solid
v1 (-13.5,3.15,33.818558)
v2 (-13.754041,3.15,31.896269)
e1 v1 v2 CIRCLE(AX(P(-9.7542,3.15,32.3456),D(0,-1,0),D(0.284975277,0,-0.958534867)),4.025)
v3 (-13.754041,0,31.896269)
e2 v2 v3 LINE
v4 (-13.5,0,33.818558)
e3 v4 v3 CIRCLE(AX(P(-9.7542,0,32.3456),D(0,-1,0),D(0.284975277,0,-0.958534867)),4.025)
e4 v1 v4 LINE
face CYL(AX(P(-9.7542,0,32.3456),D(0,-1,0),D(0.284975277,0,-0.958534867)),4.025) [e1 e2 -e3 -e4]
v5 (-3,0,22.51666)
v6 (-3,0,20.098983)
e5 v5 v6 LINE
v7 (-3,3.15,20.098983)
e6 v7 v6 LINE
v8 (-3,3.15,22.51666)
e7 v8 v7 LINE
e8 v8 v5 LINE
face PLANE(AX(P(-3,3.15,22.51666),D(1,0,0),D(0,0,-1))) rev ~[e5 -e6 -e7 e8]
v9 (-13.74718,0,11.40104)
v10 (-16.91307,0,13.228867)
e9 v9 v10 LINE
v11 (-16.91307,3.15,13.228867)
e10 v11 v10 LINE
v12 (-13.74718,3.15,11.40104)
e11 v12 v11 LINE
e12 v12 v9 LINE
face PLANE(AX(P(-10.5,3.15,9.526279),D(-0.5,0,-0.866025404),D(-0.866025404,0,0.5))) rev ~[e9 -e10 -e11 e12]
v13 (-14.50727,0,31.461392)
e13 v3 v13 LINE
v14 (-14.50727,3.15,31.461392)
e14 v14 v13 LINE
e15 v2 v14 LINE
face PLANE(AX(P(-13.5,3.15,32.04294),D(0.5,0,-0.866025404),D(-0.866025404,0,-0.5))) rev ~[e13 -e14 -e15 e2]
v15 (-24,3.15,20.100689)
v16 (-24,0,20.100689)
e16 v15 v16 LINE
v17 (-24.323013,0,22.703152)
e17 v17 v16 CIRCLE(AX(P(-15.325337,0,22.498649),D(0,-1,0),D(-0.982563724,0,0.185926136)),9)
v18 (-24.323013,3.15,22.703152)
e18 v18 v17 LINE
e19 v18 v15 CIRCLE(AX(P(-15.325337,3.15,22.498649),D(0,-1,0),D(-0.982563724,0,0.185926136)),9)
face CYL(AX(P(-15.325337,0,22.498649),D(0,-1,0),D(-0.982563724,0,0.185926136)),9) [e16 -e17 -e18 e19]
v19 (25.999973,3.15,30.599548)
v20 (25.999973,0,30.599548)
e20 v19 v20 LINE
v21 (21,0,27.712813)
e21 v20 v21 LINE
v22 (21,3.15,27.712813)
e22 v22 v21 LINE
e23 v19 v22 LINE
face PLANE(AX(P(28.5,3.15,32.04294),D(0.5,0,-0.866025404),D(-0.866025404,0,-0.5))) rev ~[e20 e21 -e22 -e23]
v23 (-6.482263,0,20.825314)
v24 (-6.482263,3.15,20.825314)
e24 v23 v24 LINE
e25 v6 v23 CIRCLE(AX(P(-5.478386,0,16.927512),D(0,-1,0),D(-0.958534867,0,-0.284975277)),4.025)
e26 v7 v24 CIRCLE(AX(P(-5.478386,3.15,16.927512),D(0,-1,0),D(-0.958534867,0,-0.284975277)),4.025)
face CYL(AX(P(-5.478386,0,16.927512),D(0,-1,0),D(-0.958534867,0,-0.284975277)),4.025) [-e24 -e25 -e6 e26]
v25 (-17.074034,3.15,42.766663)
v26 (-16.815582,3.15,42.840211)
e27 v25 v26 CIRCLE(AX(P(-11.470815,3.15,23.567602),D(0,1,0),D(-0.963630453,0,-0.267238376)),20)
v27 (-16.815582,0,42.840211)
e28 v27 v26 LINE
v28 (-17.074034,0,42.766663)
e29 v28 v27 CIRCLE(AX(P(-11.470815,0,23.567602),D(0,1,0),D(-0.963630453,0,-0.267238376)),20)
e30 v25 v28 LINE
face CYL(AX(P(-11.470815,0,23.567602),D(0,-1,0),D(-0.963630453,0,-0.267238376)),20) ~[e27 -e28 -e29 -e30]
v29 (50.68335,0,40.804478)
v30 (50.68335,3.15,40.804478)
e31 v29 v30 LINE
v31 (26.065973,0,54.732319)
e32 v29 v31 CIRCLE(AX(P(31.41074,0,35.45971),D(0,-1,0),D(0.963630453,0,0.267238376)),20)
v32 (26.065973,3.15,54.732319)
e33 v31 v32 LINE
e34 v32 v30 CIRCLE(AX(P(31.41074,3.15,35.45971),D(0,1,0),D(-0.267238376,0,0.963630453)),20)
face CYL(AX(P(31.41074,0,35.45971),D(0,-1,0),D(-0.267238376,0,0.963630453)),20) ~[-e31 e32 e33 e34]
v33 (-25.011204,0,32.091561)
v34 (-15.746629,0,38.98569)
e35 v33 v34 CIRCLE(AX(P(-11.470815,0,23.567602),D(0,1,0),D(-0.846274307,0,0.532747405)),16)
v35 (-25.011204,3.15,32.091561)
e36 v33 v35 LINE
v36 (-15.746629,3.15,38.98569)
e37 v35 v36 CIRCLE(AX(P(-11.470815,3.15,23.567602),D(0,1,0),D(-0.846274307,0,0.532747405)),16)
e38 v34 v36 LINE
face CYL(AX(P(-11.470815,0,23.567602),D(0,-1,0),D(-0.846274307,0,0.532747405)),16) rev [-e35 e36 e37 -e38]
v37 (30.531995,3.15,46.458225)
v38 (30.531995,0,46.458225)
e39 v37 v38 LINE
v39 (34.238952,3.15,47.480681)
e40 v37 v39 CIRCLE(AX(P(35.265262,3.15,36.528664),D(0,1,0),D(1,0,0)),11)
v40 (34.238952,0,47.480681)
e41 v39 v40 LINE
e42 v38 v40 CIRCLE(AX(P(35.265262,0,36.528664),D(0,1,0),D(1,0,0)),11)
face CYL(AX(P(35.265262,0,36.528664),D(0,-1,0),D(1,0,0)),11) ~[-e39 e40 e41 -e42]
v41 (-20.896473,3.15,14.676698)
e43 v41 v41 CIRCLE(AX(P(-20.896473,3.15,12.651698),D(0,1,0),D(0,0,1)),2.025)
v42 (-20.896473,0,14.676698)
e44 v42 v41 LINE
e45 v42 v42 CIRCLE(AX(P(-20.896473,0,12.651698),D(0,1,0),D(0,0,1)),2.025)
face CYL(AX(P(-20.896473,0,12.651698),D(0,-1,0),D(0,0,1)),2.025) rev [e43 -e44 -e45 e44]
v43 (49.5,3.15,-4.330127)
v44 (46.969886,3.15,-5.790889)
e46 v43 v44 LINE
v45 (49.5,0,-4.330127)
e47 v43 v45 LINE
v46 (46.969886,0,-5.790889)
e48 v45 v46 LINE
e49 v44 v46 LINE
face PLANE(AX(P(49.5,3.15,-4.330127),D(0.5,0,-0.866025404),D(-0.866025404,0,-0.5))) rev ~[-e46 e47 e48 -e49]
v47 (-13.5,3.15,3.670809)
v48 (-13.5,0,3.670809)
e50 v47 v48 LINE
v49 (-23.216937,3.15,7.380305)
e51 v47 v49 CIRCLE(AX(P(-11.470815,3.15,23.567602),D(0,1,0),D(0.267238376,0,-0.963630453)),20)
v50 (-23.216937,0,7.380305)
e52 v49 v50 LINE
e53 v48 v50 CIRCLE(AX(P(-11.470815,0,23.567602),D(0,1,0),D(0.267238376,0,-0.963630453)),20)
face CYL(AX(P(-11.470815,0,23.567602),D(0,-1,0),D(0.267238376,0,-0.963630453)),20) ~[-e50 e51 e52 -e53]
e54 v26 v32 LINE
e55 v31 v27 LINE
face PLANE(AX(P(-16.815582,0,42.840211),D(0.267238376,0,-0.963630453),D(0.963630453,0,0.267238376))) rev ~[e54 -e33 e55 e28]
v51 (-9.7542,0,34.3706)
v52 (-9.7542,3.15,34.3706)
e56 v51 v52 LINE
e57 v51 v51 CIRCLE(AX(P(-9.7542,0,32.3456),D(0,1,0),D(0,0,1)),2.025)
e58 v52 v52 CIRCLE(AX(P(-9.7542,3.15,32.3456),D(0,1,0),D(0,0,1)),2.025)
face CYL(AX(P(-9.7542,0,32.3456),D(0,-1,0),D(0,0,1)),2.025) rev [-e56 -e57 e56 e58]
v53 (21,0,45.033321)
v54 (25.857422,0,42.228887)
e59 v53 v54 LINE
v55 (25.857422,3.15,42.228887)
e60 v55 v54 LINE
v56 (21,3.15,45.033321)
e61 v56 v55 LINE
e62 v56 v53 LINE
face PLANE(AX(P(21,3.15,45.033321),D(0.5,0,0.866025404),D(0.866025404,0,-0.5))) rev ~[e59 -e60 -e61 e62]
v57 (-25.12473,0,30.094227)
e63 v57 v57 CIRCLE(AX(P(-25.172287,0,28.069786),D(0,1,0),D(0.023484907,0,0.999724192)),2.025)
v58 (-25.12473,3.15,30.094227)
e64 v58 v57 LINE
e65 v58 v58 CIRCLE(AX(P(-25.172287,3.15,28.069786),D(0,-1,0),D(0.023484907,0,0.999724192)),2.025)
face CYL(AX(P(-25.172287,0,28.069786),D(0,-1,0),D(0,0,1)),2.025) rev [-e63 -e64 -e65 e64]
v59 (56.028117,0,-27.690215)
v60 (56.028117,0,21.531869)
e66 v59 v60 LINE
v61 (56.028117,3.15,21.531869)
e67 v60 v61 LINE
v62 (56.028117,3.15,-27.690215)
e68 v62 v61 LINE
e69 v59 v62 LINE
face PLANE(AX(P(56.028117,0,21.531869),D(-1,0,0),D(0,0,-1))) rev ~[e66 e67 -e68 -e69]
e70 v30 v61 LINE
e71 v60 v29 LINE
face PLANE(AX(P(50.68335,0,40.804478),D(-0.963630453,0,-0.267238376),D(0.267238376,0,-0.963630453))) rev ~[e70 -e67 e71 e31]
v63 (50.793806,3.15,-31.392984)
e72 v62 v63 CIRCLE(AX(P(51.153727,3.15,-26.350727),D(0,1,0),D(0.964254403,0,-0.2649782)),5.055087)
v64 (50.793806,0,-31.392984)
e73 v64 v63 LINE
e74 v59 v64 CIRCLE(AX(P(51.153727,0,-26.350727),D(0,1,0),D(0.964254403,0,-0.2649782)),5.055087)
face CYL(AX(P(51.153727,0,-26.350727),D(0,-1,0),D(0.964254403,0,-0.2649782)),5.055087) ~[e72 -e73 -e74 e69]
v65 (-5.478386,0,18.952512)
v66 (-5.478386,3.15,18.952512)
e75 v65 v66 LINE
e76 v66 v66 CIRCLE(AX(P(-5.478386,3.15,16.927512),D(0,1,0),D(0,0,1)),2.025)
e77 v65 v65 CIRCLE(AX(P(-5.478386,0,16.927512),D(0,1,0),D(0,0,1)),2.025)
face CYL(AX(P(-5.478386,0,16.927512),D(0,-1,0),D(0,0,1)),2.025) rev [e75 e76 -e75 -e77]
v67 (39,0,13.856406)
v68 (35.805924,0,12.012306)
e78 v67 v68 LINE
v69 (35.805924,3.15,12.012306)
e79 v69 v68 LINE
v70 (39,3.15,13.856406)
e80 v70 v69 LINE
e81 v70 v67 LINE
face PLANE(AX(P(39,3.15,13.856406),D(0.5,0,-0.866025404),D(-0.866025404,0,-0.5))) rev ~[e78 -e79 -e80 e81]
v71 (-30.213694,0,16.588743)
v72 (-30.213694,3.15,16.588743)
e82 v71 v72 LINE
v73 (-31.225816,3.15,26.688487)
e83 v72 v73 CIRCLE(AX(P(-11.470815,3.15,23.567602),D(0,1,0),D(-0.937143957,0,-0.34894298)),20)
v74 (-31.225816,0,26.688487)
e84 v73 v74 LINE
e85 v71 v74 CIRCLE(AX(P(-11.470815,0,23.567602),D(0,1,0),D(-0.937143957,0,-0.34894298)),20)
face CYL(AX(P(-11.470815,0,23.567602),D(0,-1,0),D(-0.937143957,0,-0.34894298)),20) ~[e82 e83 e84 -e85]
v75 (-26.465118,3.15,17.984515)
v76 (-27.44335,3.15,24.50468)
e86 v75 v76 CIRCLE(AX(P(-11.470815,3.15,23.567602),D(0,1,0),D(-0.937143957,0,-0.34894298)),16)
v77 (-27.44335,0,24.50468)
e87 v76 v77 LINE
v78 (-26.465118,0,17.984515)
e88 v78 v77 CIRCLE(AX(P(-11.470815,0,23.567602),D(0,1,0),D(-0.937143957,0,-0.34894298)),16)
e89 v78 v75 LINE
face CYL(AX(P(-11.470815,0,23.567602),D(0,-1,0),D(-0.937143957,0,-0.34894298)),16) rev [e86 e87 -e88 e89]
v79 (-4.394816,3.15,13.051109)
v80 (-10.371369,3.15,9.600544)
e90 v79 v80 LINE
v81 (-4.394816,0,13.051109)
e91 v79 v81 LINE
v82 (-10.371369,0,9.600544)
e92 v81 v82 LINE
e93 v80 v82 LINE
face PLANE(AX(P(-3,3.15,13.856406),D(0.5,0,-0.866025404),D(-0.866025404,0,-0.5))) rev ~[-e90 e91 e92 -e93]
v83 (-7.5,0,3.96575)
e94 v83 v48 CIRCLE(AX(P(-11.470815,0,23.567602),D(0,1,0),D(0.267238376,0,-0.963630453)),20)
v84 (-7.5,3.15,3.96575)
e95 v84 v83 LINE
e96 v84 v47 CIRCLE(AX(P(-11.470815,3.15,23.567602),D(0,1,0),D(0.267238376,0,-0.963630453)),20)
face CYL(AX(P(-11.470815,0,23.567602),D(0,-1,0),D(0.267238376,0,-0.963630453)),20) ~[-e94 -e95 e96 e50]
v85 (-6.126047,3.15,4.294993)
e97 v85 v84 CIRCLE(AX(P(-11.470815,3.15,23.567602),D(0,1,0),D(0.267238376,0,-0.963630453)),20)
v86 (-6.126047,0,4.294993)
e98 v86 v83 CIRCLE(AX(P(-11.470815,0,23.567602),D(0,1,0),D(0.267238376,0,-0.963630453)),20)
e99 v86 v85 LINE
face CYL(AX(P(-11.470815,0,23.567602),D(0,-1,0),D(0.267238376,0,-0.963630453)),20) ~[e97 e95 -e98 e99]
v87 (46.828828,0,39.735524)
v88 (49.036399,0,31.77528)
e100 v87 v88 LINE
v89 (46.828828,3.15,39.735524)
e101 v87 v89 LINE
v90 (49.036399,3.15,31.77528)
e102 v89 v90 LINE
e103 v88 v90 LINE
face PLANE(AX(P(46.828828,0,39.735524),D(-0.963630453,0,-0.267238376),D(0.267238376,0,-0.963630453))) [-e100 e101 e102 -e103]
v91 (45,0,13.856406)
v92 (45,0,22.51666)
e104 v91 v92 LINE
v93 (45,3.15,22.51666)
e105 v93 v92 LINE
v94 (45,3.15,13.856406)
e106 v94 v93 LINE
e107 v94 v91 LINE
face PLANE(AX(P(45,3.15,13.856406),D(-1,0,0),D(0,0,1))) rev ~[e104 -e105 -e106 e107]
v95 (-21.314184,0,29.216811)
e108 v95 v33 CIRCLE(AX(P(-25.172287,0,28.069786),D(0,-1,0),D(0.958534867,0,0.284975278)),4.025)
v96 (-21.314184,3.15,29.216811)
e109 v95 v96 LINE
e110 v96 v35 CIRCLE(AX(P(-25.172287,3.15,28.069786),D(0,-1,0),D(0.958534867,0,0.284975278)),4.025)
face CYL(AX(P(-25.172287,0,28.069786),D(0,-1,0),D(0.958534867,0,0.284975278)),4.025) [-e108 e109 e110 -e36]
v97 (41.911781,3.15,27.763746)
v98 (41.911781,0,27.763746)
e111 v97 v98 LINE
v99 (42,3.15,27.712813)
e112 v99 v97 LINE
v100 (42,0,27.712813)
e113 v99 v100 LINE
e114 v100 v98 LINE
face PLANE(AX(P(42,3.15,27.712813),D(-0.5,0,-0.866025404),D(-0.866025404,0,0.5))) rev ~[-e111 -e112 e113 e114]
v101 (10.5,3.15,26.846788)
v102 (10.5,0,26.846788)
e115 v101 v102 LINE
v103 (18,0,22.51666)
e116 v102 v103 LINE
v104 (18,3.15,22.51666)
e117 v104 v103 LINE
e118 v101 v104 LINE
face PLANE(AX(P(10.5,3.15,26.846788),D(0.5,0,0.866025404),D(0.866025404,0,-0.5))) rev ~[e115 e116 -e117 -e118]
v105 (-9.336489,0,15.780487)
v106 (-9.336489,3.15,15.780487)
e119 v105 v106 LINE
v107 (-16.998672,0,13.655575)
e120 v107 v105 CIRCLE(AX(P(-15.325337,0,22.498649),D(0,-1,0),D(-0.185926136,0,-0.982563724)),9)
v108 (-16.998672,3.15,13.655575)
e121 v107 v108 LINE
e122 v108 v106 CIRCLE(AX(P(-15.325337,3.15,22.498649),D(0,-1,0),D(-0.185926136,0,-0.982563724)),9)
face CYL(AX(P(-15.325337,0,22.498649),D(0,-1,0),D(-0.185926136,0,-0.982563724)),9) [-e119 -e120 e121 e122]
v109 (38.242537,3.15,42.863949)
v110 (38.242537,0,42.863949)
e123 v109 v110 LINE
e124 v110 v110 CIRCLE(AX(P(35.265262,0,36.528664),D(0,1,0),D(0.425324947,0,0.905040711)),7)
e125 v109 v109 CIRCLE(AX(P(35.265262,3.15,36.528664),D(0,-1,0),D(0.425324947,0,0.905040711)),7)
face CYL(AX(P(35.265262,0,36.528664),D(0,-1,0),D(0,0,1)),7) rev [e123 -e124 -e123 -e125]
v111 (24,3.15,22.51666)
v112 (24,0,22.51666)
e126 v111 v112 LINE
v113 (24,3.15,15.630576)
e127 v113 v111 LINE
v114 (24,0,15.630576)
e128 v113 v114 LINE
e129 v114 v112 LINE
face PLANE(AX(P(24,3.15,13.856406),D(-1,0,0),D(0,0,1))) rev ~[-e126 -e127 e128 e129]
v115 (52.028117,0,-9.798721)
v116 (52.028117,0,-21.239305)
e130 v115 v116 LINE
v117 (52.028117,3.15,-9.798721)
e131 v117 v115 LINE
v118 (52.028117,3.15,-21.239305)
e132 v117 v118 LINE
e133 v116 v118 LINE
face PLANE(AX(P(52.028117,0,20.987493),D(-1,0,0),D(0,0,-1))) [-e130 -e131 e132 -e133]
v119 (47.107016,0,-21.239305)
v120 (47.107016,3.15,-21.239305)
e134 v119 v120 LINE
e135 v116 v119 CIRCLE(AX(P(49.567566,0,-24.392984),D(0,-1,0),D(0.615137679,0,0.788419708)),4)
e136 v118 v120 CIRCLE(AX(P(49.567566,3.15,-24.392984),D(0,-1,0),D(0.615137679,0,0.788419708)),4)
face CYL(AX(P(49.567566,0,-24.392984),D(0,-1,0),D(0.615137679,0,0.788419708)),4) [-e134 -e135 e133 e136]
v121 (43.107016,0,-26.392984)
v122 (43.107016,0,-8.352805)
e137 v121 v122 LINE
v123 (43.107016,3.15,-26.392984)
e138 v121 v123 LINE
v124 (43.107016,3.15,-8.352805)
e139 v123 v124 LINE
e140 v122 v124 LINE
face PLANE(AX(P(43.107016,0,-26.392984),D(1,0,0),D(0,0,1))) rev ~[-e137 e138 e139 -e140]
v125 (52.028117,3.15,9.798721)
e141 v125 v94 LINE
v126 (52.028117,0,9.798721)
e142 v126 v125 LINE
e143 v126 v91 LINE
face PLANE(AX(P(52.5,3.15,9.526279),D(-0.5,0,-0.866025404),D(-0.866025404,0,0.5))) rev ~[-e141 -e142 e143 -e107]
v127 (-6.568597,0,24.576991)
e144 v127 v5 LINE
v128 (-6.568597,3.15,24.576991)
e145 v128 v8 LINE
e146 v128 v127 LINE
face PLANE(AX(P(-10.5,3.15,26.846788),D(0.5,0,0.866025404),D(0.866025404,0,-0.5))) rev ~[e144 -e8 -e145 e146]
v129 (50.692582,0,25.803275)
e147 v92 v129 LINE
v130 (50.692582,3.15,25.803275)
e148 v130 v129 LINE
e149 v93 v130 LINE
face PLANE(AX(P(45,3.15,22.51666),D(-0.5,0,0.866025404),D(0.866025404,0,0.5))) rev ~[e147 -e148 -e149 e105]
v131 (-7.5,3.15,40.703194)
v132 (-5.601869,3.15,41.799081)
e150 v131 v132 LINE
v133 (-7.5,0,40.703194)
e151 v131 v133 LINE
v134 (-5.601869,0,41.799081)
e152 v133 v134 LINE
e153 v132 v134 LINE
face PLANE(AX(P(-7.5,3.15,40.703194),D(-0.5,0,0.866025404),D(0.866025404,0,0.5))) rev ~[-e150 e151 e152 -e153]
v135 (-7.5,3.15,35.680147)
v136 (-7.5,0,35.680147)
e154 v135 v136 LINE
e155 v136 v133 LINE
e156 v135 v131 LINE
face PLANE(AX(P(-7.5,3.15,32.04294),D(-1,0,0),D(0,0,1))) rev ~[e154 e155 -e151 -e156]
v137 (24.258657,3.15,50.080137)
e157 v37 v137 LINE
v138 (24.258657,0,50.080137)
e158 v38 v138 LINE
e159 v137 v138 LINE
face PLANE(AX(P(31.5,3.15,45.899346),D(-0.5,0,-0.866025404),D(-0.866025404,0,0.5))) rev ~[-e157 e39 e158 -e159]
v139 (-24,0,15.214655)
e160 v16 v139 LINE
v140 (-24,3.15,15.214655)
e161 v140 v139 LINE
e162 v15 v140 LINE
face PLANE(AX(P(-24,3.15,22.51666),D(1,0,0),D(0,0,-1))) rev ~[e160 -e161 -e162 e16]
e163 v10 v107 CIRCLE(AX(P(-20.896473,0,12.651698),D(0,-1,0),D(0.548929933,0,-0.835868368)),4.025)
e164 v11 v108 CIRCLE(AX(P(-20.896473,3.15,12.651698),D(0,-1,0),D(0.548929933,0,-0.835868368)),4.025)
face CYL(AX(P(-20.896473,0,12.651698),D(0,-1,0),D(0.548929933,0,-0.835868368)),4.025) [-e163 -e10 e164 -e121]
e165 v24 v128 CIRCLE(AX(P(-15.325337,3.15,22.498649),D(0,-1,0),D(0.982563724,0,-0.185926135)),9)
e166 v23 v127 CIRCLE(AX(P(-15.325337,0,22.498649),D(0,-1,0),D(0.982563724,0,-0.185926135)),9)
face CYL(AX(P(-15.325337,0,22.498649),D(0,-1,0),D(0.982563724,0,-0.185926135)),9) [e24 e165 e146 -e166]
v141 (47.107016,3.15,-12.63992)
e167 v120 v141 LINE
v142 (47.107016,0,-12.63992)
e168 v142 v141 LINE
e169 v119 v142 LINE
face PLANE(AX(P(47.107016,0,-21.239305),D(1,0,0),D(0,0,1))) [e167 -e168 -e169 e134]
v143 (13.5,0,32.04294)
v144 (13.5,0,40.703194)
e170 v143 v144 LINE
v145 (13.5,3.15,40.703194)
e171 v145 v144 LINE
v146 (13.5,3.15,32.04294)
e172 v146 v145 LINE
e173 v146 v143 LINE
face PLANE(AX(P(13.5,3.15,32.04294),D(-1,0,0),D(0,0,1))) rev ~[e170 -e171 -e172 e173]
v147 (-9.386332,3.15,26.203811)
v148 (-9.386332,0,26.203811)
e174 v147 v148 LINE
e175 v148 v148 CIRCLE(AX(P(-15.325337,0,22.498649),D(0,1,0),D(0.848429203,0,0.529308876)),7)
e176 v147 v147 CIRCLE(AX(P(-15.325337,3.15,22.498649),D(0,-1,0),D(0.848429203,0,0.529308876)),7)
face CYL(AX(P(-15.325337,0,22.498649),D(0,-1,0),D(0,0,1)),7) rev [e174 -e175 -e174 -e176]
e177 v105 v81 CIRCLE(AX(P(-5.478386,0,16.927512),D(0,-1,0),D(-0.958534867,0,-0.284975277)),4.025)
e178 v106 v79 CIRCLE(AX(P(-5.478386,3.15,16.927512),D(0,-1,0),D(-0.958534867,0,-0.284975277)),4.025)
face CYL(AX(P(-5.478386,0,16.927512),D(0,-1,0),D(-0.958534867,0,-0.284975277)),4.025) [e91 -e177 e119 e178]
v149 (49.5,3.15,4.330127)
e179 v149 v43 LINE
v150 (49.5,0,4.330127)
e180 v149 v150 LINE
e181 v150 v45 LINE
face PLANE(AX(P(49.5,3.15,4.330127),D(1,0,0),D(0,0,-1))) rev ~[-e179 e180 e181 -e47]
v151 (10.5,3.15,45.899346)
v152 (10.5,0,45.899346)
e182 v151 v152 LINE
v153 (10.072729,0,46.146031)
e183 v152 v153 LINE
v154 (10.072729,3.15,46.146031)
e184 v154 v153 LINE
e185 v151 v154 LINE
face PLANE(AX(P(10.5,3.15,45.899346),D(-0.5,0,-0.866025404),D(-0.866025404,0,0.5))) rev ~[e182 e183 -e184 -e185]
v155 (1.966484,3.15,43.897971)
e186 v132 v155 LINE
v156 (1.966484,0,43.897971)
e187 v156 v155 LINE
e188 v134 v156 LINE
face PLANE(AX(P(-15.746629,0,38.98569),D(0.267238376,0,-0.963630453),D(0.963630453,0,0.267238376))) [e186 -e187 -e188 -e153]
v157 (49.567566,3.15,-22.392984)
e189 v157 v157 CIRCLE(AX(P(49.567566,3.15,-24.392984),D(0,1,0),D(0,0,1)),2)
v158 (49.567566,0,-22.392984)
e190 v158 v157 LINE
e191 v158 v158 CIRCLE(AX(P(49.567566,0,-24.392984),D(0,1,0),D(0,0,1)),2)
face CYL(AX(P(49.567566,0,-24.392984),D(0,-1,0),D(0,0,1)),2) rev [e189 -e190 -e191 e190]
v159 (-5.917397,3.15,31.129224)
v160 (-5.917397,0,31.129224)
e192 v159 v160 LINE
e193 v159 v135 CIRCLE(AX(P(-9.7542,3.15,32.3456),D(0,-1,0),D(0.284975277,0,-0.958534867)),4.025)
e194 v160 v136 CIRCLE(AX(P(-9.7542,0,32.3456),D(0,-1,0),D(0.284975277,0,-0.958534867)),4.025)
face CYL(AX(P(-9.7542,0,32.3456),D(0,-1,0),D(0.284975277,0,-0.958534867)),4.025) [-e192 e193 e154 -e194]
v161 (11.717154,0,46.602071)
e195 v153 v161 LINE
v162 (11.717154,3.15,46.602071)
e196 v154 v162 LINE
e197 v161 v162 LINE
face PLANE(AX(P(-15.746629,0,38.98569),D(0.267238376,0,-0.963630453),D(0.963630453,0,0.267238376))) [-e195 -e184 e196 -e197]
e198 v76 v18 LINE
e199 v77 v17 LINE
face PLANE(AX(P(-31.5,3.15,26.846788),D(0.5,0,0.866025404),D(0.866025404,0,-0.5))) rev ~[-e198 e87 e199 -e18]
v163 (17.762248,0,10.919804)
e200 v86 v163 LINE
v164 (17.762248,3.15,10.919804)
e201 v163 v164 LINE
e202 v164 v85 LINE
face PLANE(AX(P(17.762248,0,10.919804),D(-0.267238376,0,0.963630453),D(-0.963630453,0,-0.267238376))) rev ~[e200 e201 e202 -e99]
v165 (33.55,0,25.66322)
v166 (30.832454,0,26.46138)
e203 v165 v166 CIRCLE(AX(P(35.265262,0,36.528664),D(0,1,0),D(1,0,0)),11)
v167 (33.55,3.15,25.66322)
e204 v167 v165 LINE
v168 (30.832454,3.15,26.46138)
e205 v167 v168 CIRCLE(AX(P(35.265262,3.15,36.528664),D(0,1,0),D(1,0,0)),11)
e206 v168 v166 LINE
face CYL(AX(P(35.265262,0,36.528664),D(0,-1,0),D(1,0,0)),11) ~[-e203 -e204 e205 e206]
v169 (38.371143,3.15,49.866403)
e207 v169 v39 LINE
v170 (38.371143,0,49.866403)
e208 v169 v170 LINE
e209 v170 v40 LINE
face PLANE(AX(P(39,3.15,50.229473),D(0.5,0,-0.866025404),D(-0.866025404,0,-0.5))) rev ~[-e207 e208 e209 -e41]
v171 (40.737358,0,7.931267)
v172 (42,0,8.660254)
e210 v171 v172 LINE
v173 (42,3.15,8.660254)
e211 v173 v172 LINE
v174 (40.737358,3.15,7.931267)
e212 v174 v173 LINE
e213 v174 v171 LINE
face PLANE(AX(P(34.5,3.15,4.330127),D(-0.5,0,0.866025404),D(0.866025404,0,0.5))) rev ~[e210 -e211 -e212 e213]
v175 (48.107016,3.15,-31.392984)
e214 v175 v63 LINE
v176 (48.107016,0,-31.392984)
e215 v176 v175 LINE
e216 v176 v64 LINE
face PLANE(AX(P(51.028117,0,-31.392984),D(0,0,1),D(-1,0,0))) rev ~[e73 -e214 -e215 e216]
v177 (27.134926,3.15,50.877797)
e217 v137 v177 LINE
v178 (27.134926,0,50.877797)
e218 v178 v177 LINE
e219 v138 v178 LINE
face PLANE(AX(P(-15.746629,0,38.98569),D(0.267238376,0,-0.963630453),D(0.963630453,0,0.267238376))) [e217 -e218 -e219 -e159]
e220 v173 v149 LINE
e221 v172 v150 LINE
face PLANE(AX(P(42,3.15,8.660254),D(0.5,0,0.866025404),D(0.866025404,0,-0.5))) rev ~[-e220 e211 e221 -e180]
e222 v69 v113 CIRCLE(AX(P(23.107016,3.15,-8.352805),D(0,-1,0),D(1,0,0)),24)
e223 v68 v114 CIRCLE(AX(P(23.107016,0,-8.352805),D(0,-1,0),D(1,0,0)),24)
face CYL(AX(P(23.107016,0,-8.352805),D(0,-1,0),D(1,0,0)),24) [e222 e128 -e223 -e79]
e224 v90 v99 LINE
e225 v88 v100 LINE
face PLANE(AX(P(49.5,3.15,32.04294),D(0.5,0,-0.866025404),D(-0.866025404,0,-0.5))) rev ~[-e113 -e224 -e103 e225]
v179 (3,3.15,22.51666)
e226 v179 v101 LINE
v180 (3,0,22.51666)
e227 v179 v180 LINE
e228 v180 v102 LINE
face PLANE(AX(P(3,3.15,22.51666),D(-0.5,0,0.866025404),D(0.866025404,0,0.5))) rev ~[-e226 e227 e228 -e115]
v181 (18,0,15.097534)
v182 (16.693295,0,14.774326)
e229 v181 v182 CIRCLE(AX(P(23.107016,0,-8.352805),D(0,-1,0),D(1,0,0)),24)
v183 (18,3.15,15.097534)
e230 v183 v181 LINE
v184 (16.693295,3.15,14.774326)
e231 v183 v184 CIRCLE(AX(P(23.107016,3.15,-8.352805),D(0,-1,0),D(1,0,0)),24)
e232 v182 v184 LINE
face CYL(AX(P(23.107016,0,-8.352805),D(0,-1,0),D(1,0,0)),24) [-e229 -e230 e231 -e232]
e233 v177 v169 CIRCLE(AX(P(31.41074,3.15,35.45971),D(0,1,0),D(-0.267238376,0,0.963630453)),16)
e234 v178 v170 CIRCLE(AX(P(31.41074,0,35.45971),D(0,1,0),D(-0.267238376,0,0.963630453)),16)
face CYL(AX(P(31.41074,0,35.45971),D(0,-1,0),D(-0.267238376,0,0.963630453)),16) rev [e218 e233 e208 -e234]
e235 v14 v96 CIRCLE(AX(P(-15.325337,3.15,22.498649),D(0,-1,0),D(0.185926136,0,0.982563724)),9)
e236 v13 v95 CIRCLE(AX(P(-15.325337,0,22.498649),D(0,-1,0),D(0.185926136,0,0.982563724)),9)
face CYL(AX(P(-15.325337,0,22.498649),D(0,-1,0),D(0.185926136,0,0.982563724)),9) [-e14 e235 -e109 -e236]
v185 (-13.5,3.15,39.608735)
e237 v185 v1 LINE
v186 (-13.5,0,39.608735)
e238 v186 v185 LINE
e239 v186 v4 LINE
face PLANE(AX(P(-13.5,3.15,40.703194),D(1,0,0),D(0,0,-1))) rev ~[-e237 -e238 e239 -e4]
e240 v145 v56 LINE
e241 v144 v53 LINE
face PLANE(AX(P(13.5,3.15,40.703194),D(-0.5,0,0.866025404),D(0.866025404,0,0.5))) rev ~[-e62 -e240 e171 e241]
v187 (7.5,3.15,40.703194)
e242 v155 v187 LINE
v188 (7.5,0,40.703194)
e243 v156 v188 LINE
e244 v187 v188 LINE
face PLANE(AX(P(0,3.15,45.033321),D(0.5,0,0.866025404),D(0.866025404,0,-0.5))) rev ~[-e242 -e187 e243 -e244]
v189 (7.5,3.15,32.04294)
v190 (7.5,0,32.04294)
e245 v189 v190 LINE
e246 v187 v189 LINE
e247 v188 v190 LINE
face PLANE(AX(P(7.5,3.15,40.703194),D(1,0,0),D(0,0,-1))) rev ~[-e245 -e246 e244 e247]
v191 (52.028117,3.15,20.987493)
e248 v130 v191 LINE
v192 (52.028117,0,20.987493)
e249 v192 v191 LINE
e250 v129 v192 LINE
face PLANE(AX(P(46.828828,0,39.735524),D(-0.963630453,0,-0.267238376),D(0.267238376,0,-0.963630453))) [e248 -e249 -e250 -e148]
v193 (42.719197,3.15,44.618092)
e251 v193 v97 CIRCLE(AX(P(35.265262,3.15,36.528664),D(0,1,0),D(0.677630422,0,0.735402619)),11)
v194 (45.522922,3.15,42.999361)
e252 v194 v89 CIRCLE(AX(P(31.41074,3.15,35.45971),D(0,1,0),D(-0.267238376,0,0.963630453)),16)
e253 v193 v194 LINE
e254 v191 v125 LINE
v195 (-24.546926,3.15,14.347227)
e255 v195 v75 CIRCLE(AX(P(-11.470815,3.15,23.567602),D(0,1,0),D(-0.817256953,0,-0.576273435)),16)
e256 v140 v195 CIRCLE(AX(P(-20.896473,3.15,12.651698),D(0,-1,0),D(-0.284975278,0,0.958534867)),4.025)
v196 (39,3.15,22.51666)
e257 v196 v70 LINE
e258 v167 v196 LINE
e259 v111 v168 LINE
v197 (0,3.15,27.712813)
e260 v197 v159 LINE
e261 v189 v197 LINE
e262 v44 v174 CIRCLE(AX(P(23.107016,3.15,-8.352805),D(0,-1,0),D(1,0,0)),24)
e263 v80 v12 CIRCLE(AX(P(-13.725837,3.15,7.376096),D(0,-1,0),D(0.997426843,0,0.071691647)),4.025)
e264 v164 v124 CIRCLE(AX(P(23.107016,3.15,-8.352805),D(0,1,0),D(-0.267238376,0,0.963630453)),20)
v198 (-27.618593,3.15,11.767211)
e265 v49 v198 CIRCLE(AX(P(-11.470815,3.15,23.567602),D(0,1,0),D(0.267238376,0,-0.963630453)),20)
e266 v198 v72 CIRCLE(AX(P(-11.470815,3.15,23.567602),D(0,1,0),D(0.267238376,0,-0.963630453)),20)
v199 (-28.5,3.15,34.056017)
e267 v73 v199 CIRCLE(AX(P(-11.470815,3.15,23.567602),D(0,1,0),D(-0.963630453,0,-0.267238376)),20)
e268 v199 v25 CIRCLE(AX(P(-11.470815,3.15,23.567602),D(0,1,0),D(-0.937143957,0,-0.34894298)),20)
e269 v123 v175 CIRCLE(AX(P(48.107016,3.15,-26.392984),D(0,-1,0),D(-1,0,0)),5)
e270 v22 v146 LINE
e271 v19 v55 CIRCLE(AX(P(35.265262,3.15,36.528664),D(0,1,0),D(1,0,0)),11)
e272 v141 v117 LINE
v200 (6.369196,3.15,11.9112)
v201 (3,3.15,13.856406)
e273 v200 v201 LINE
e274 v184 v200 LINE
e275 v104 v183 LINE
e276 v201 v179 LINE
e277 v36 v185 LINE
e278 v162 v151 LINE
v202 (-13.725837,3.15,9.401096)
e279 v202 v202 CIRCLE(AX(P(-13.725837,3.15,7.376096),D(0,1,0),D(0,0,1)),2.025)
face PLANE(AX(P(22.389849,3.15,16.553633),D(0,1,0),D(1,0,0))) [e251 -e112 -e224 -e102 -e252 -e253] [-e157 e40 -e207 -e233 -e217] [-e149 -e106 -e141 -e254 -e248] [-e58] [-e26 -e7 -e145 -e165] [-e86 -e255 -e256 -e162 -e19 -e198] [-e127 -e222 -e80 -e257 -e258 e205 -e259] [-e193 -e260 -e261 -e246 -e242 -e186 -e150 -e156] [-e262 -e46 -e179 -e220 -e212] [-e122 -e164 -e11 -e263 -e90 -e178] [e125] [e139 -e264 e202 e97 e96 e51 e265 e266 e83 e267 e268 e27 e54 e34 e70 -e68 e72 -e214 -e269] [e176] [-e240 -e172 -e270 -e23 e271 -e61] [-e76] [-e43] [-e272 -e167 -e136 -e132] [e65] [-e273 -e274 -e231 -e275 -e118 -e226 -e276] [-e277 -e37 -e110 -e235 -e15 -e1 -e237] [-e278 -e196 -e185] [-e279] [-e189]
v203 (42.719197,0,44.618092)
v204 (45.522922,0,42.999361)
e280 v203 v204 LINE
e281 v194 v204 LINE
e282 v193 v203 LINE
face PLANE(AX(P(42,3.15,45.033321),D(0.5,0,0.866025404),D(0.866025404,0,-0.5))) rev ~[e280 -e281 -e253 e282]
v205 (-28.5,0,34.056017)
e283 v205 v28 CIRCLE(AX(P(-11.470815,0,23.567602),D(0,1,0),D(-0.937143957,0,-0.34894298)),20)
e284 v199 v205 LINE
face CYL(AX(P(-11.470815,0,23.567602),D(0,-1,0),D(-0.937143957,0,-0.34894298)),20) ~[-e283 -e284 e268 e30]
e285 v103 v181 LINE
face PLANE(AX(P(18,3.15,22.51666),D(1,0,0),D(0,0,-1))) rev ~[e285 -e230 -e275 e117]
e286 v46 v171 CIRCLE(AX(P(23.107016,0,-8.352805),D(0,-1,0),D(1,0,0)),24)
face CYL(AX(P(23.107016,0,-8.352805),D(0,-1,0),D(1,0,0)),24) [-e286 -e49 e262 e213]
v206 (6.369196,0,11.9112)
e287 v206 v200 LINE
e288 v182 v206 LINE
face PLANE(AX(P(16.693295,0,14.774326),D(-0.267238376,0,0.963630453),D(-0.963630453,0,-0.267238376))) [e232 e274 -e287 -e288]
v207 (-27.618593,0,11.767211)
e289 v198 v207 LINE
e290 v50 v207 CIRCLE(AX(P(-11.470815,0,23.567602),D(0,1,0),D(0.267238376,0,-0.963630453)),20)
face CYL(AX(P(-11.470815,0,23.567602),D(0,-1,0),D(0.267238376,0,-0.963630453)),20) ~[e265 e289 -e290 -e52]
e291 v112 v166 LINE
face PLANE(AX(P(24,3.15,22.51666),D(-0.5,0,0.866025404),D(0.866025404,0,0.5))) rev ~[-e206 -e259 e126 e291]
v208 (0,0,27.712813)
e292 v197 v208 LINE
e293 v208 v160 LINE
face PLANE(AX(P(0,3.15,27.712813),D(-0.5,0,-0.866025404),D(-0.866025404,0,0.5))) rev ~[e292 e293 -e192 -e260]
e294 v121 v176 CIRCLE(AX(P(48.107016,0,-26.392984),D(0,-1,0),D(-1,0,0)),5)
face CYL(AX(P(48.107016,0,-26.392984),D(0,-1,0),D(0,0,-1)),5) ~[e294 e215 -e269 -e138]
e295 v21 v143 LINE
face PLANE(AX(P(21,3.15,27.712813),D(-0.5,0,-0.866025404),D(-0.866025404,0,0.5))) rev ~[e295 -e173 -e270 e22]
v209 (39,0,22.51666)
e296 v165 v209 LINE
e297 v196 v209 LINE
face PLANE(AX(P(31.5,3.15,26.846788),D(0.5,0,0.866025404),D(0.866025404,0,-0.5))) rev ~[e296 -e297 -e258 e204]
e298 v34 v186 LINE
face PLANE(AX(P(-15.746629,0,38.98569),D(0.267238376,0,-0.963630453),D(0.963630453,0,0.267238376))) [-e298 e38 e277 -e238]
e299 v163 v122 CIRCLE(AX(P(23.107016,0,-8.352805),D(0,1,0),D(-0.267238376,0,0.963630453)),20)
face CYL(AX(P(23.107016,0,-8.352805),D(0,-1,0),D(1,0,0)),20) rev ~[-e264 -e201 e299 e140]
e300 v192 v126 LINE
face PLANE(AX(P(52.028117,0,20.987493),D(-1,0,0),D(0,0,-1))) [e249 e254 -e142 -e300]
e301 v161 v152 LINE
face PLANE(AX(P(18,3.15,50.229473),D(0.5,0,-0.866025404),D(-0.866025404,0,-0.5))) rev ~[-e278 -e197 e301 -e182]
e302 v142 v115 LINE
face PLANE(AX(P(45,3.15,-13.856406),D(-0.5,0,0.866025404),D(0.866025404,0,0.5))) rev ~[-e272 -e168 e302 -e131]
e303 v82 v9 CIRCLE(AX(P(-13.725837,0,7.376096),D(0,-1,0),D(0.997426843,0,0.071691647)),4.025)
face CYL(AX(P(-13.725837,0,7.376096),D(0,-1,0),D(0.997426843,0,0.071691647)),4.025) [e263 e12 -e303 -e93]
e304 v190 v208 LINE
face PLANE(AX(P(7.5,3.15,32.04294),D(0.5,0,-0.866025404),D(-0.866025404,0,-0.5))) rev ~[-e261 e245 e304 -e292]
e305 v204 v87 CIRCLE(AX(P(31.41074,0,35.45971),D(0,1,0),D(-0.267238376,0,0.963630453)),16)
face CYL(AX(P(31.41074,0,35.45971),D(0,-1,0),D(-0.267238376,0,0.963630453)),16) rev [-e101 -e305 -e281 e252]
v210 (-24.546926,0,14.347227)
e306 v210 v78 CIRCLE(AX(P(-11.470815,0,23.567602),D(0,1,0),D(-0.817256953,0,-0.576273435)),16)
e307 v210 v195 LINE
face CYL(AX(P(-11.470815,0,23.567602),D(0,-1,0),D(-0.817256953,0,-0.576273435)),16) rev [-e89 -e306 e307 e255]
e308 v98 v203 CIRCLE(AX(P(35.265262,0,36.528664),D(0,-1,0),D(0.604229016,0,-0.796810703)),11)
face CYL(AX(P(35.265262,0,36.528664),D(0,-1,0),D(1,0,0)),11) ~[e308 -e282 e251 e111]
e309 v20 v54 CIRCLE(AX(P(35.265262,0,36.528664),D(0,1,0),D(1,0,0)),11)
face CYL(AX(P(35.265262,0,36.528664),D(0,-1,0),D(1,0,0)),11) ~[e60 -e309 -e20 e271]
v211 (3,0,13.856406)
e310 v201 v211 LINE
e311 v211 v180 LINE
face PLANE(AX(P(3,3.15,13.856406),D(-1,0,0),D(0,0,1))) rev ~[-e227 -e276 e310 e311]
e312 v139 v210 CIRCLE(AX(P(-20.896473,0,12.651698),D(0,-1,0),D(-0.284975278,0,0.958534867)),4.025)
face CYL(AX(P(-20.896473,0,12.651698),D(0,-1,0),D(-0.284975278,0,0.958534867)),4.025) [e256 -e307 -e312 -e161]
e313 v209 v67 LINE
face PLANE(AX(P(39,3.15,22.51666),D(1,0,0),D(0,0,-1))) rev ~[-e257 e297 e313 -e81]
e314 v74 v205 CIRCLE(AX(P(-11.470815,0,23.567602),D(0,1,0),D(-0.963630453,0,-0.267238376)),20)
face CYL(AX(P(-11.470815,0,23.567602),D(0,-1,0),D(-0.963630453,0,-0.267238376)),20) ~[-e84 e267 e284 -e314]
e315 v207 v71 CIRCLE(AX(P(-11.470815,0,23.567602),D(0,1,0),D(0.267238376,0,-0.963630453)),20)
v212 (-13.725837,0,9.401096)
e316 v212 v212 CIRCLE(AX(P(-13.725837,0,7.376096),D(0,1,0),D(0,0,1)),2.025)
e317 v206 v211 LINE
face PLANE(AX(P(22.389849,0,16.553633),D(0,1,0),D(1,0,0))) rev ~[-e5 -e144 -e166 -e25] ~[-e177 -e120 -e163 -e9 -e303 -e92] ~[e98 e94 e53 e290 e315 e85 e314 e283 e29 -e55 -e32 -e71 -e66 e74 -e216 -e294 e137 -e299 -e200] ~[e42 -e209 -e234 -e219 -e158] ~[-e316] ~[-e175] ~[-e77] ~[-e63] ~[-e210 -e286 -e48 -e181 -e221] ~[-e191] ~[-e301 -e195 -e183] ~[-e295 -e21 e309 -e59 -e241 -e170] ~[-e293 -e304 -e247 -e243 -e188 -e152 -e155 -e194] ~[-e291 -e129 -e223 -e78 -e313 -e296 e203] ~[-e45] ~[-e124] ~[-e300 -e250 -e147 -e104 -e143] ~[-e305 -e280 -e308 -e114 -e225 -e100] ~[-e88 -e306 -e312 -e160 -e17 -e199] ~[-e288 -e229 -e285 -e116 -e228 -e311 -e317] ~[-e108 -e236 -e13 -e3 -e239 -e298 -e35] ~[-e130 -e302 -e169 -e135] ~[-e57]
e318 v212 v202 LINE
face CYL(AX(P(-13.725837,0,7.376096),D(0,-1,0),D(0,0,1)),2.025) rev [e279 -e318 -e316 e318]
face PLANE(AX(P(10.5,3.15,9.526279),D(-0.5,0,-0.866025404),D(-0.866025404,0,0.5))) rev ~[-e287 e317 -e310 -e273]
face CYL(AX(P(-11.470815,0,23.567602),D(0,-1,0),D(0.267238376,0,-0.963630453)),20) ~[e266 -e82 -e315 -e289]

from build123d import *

# Parameters (mm, degrees)
SKETCH1_R           = 7
SKETCH1_R_2         = 2.025
SKETCH1_R_3         = 2.05
BOSS_EXTRUDE1_DEPTH = 3.15
CUT_EXTRUDE1_DEPTH  = 3.15
BOSS_EXTRUDE2_START = -3.15
SKETCH3_R           = 2
SKETCH3_R_2         = 7
SKETCH3_R_3         = 2.025
SKETCH3_R_4         = 11
BOSS_EXTRUDE2_DEPTH = 3.15


with BuildPart() as part:
    # Sketch1 → Boss-Extrude1 (new body)
    with BuildSketch(Plane(origin=(0, 0, 0), x_dir=(1, 0, 0), z_dir=(0, 1, 0))):
        with BuildLine():
            Line((51.028117024, 31.392984288), (48.107015586, 31.392984288))
            ThreePointArc((48.107015586, 31.392984288), (44.57148168, 29.928518194), (43.107015586, 26.392984288))
            Line((43.107015586, 26.392984288), (43.107015586, 8.3528051))
            ThreePointArc((43.107015586, 8.3528051), (35.212895347, -7.567234951), (17.762248065, -10.919803965))
            Line((17.762248065, -10.919803965), (-6.126047208, -4.29499337))
            ThreePointArc((-6.126047208, -4.29499337), (-21.319285931, -6.160488515), (-30.743423793, -18.222834912))
            ThreePointArc((-30.743423793, -18.222834912), (-28.877928648, -33.416073636), (-16.815582251, -42.840211498))
            Line((-16.815582251, -42.840211498), (26.065972917, -54.732319234))
            ThreePointArc((26.065972917, -54.732319234), (41.259211641, -52.866824088), (50.683349503, -40.804477691))
            Line((50.683349503, -40.804477691), (56.028117024, -21.531868627))
            Line((56.028117024, -21.531868627), (56.028117024, 26.392984288))
            ThreePointArc((56.028117024, 26.392984288), (54.56365093, 29.928518194), (51.028117024, 31.392984288))
        make_face()
        with Locations(Location((35.265262251, -36.528663674, 0), (0, 0, 270))):
            Circle(SKETCH1_R, mode=Mode.SUBTRACT)
        with Locations(Location((-15.325336542, -22.49864893, 0), (0, 0, 270))):
            Circle(SKETCH1_R, mode=Mode.SUBTRACT)
        with Locations(Location((-5.478385908, -16.927512313, 0), (0, 0, 270))):
            Circle(SKETCH1_R_2, mode=Mode.SUBTRACT)
        with Locations(Location((-9.754199925, -32.345599564, 0), (0, 0, 270))):
            Circle(SKETCH1_R_2, mode=Mode.SUBTRACT)
        with Locations(Location((-25.172287176, -28.069785547, 0), (0, 0, 270))):
            Circle(SKETCH1_R_2, mode=Mode.SUBTRACT)
        with Locations(Location((-20.896473159, -12.651698295, 0), (0, 0, 270))):
            Circle(SKETCH1_R_2, mode=Mode.SUBTRACT)
        with Locations(Location((-13.725837034, -7.376096191, 0), (0, 0, 270))):
            Circle(SKETCH1_R_2, mode=Mode.SUBTRACT)
        with Locations(Location((49.567566305, 24.392984288, 0), (0, 0, 270))):
            Circle(SKETCH1_R_3, mode=Mode.SUBTRACT)
    extrude(amount=BOSS_EXTRUDE1_DEPTH)

    # Sketch2 → Cut-Extrude1 (cut)
    with BuildSketch(Plane(origin=(0, 3.15, 0), x_dir=(1, 0, 0), z_dir=(0, 1, 0))):
        Polygon((0, 8.660254038), (-7.5, 4.330127019), (-7.5, -4.330127019), (0, -8.660254038), (7.5, -4.330127019), (7.5, 4.330127019), align=None)
        Polygon((21, 8.660254038), (13.5, 4.330127019), (13.5, -4.330127019), (21, -8.660254038), (28.5, -4.330127019), (28.5, 4.330127019), align=None)
        Polygon((10.5, -9.526279442), (3, -13.856406461), (3, -22.516660498), (10.5, -26.846787517), (18, -22.516660498), (18, -13.856406461), align=None)
        Polygon((31.5, -9.526279442), (24, -13.856406461), (24, -22.516660498), (31.5, -26.846787517), (39, -22.516660498), (39, -13.856406461), align=None)
        Polygon((52.5, -9.526279442), (45, -13.856406461), (45, -22.516660498), (52.5, -26.846787517), (60, -22.516660498), (60, -13.856406461), align=None)
        Polygon((42, 8.660254038), (34.5, 4.330127019), (34.5, -4.330127019), (42, -8.660254038), (49.5, -4.330127019), (49.5, 4.330127019), align=None)
        Polygon((63, 8.660254038), (55.5, 4.330127019), (55.5, -4.330127019), (63, -8.660254038), (70.5, -4.330127019), (70.5, 4.330127019), align=None)
        Polygon((73.5, -9.526279442), (66, -13.856406461), (66, -22.516660498), (73.5, -26.846787517), (81, -22.516660498), (81, -13.856406461), align=None)
        Polygon((52.5, -45.899346401), (45, -50.229473419), (45, -58.889727457), (52.5, -63.219854476), (60, -58.889727457), (60, -50.229473419), align=None)
        Polygon((42, -27.712812921), (34.5, -32.04293994), (34.5, -40.703193978), (42, -45.033320997), (49.5, -40.703193978), (49.5, -32.04293994), align=None)
        Polygon((63, -27.712812921), (55.5, -32.04293994), (55.5, -40.703193978), (63, -45.033320997), (70.5, -40.703193978), (70.5, -32.04293994), align=None)
        Polygon((73.5, -45.899346401), (66, -50.229473419), (66, -58.889727457), (73.5, -63.219854476), (81, -58.889727457), (81, -50.229473419), align=None)
        Polygon((10.5, -45.899346401), (3, -50.229473419), (3, -58.889727457), (10.5, -63.219854476), (18, -58.889727457), (18, -50.229473419), align=None)
        Polygon((0, -27.712812921), (-7.5, -32.04293994), (-7.5, -40.703193978), (0, -45.033320997), (7.5, -40.703193978), (7.5, -32.04293994), align=None)
        Polygon((21, -27.712812921), (13.5, -32.04293994), (13.5, -40.703193978), (21, -45.033320997), (28.5, -40.703193978), (28.5, -32.04293994), align=None)
        Polygon((31.5, -45.899346401), (24, -50.229473419), (24, -58.889727457), (31.5, -63.219854476), (39, -58.889727457), (39, -50.229473419), align=None)
        Polygon((-21, -27.712812921), (-28.5, -32.04293994), (-28.5, -40.703193978), (-21, -45.033320997), (-13.5, -40.703193978), (-13.5, -32.04293994), align=None)
        Polygon((-10.5, -9.526279442), (-18, -13.856406461), (-18, -22.516660498), (-10.5, -26.846787517), (-3, -22.516660498), (-3, -13.856406461), align=None)
        Polygon((-21, 8.660254038), (-28.5, 4.330127019), (-28.5, -4.330127019), (-21, -8.660254038), (-13.5, -4.330127019), (-13.5, 4.330127019), align=None)
        Polygon((-10.5, -45.899346401), (-18, -50.229473419), (-18, -58.889727457), (-10.5, -63.219854476), (-3, -58.889727457), (-3, -50.229473419), align=None)
        Polygon((-42, -27.712812921), (-49.5, -32.04293994), (-49.5, -40.703193978), (-42, -45.033320997), (-34.5, -40.703193978), (-34.5, -32.04293994), align=None)
        Polygon((-31.5, -9.526279442), (-39, -13.856406461), (-39, -22.516660498), (-31.5, -26.846787517), (-24, -22.516660498), (-24, -13.856406461), align=None)
        Polygon((-42, 8.660254038), (-49.5, 4.330127019), (-49.5, -4.330127019), (-42, -8.660254038), (-34.5, -4.330127019), (-34.5, 4.330127019), align=None)
        Polygon((-31.5, -45.899346401), (-39, -50.229473419), (-39, -58.889727457), (-31.5, -63.219854476), (-24, -58.889727457), (-24, -50.229473419), align=None)
        Polygon((42, 45.033320997), (34.5, 40.703193978), (34.5, 32.04293994), (42, 27.712812921), (49.5, 32.04293994), (49.5, 40.703193978), align=None)
        Polygon((63, 45.033320997), (55.5, 40.703193978), (55.5, 32.04293994), (63, 27.712812921), (70.5, 32.04293994), (70.5, 40.703193978), align=None)
        Polygon((73.5, 26.846787517), (66, 22.516660498), (66, 13.856406461), (73.5, 9.526279442), (81, 13.856406461), (81, 22.516660498), align=None)
        Polygon((52.5, 26.846787517), (45, 22.516660498), (45, 13.856406461), (52.5, 9.526279442), (60, 13.856406461), (60, 22.516660498), align=None)
    extrude(amount=-CUT_EXTRUDE1_DEPTH, mode=Mode.SUBTRACT)

    # Sketch3 → Boss-Extrude2 (add)
    # profile 1 of 2: a face of its own
    with BuildSketch(Plane(origin=(0, 3.15, 0), x_dir=(1, 0, 0), z_dir=(0, 1, 0)).offset(BOSS_EXTRUDE2_START)):
        with BuildLine():
            Line((50.793806272, 31.392984288), (48.107015586, 31.392984288))
            ThreePointArc((48.107015586, 31.392984288), (44.57148168, 29.928518194), (43.107015586, 26.392984288))
            Line((43.107015586, 26.392984288), (43.107015586, 8.3528051))
            ThreePointArc((43.107015586, 8.3528051), (35.212895347, -7.567234951), (17.762248065, -10.919803965))
            Line((17.762248065, -10.919803965), (-6.126047208, -4.29499337))
            ThreePointArc((-6.126047208, -4.29499337), (-20.562647206, -5.753602821), (-30.213693877, -16.588742838))
            ThreePointArc((-30.213693877, -16.588742838), (-29.284814342, -32.659434911), (-16.815582251, -42.840211498))
            Line((-16.815582251, -42.840211498), (26.065972917, -54.732319234))
            ThreePointArc((26.065972917, -54.732319234), (41.259211641, -52.866824088), (50.683349503, -40.804477691))
            Line((50.683349503, -40.804477691), (56.028117024, -21.531868627))
            Line((56.028117024, -21.531868627), (56.028117024, 27.690214825))
            ThreePointArc((56.028117024, 27.690214825), (54.073099239, 30.477610817), (50.793806272, 31.392984288))
        make_face()
        with Locations(Location((49.567566305, 24.392984288, 0), (0, 0, 270))):
            Circle(SKETCH3_R, mode=Mode.SUBTRACT)
        with Locations(Location((-15.325336542, -22.49864893, 0), (0, 0, 270))):
            Circle(SKETCH3_R_2, mode=Mode.SUBTRACT)
        with Locations(Location((-20.896473159, -12.651698295, 0), (0, 0, 270))):
            Circle(SKETCH3_R_3, mode=Mode.SUBTRACT)
        with Locations(Location((-13.725837034, -7.376096191, 0), (0, 0, 270))):
            Circle(SKETCH3_R_3, mode=Mode.SUBTRACT)
        with Locations(Location((-25.172287176, -28.069785547, 0), (0, 0, 270))):
            Circle(SKETCH3_R_3, mode=Mode.SUBTRACT)
        with Locations(Location((-9.754199925, -32.345599564, 0), (0, 0, 270))):
            Circle(SKETCH3_R_3, mode=Mode.SUBTRACT)
        with Locations(Location((-5.478385908, -16.927512313, 0), (0, 0, 270))):
            Circle(SKETCH3_R_3, mode=Mode.SUBTRACT)
        with BuildLine():
            Line((47.107015586, 21.239305458), (47.107015586, 8.3528051))
            ThreePointArc((47.107015586, 8.3528051), (37.634071299, -10.751242961), (16.69329456, -14.774325777))
            Line((16.69329456, -14.774325777), (-7.195000712, -8.149515183))
            ThreePointArc((-7.195000712, -8.149515183), (-8.443375133, -7.856631443), (-9.711193989, -7.66465507))
            ThreePointArc((-9.711193989, -7.66465507), (-13.17062628, -11.36261924), (-17.508855114, -8.750650375))
            ThreePointArc((-17.508855114, -8.750650375), (-18.103373072, -9.007067766), (-18.687030177, -9.287328115))
            ThreePointArc((-18.687030177, -9.287328115), (-17.142141715, -11.200622691), (-16.998671761, -13.655575412))
            ThreePointArc((-16.998671761, -13.655575412), (-12.920191157, -13.825974851), (-9.336488748, -15.780486823))
            ThreePointArc((-9.336488748, -15.780486823), (-1.975204232, -14.945507483), (-6.482263024, -20.82531371))
            ThreePointArc((-6.482263024, -20.82531371), (-6.652662463, -24.903794314), (-8.607174435, -28.487496724))
            ThreePointArc((-8.607174435, -28.487496724), (-7.772195096, -35.84878124), (-13.652001323, -31.341722448))
            ThreePointArc((-13.652001323, -31.341722448), (-17.730481927, -31.171323009), (-21.314184336, -29.216811037))
            ThreePointArc((-21.314184336, -29.216811037), (-22.701556213, -31.247223745), (-25.01120364, -32.091560913))
            ThreePointArc((-25.01120364, -32.091560913), (-21.022595954, -36.403625004), (-15.746628746, -38.985689685))
            Line((-15.746628746, -38.985689685), (27.134926421, -50.877797421))
            ThreePointArc((27.134926421, -50.877797421), (39.2895174, -49.385401305), (46.82882769, -39.735524187))
            Line((46.82882769, -39.735524187), (52.028117024, -20.987492519))
            Line((52.028117024, -20.987492519), (52.028117024, 21.239305458))
            ThreePointArc((52.028117024, 21.239305458), (49.567566305, 20.392984288), (47.107015586, 21.239305458))
        make_face(mode=Mode.SUBTRACT)
        with BuildLine():
            ThreePointArc((-26.465118047, -17.984514757), (-27.31052728, -21.308508299), (-27.428073888, -24.736311186))
            ThreePointArc((-27.428073888, -24.736311186), (-25.8588989, -24.103781344), (-24.16841006, -24.171984149))
            ThreePointArc((-24.16841006, -24.171984149), (-23.998010621, -20.093503545), (-22.043498649, -16.509801136))
            ThreePointArc((-22.043498649, -16.509801136), (-23.527657447, -15.697596232), (-24.546925983, -14.34722747))
            ThreePointArc((-24.546925983, -14.34722747), (-25.623358962, -16.103991261), (-26.465118047, -17.984514757))
        make_face(mode=Mode.SUBTRACT)
    # profile 2 of 2: a face of its own
    with BuildSketch(Plane(origin=(0, 3.15, 0), x_dir=(1, 0, 0), z_dir=(0, 1, 0)).offset(BOSS_EXTRUDE2_START)):
        with Locations((35.265262251, -36.528663674)):
            Circle(SKETCH3_R_4)
        with Locations(Location((35.265262251, -36.528663674, 0), (0, 0, 270))):
            Circle(SKETCH3_R_2, mode=Mode.SUBTRACT)
    extrude(amount=BOSS_EXTRUDE2_DEPTH)


solid = part.part
